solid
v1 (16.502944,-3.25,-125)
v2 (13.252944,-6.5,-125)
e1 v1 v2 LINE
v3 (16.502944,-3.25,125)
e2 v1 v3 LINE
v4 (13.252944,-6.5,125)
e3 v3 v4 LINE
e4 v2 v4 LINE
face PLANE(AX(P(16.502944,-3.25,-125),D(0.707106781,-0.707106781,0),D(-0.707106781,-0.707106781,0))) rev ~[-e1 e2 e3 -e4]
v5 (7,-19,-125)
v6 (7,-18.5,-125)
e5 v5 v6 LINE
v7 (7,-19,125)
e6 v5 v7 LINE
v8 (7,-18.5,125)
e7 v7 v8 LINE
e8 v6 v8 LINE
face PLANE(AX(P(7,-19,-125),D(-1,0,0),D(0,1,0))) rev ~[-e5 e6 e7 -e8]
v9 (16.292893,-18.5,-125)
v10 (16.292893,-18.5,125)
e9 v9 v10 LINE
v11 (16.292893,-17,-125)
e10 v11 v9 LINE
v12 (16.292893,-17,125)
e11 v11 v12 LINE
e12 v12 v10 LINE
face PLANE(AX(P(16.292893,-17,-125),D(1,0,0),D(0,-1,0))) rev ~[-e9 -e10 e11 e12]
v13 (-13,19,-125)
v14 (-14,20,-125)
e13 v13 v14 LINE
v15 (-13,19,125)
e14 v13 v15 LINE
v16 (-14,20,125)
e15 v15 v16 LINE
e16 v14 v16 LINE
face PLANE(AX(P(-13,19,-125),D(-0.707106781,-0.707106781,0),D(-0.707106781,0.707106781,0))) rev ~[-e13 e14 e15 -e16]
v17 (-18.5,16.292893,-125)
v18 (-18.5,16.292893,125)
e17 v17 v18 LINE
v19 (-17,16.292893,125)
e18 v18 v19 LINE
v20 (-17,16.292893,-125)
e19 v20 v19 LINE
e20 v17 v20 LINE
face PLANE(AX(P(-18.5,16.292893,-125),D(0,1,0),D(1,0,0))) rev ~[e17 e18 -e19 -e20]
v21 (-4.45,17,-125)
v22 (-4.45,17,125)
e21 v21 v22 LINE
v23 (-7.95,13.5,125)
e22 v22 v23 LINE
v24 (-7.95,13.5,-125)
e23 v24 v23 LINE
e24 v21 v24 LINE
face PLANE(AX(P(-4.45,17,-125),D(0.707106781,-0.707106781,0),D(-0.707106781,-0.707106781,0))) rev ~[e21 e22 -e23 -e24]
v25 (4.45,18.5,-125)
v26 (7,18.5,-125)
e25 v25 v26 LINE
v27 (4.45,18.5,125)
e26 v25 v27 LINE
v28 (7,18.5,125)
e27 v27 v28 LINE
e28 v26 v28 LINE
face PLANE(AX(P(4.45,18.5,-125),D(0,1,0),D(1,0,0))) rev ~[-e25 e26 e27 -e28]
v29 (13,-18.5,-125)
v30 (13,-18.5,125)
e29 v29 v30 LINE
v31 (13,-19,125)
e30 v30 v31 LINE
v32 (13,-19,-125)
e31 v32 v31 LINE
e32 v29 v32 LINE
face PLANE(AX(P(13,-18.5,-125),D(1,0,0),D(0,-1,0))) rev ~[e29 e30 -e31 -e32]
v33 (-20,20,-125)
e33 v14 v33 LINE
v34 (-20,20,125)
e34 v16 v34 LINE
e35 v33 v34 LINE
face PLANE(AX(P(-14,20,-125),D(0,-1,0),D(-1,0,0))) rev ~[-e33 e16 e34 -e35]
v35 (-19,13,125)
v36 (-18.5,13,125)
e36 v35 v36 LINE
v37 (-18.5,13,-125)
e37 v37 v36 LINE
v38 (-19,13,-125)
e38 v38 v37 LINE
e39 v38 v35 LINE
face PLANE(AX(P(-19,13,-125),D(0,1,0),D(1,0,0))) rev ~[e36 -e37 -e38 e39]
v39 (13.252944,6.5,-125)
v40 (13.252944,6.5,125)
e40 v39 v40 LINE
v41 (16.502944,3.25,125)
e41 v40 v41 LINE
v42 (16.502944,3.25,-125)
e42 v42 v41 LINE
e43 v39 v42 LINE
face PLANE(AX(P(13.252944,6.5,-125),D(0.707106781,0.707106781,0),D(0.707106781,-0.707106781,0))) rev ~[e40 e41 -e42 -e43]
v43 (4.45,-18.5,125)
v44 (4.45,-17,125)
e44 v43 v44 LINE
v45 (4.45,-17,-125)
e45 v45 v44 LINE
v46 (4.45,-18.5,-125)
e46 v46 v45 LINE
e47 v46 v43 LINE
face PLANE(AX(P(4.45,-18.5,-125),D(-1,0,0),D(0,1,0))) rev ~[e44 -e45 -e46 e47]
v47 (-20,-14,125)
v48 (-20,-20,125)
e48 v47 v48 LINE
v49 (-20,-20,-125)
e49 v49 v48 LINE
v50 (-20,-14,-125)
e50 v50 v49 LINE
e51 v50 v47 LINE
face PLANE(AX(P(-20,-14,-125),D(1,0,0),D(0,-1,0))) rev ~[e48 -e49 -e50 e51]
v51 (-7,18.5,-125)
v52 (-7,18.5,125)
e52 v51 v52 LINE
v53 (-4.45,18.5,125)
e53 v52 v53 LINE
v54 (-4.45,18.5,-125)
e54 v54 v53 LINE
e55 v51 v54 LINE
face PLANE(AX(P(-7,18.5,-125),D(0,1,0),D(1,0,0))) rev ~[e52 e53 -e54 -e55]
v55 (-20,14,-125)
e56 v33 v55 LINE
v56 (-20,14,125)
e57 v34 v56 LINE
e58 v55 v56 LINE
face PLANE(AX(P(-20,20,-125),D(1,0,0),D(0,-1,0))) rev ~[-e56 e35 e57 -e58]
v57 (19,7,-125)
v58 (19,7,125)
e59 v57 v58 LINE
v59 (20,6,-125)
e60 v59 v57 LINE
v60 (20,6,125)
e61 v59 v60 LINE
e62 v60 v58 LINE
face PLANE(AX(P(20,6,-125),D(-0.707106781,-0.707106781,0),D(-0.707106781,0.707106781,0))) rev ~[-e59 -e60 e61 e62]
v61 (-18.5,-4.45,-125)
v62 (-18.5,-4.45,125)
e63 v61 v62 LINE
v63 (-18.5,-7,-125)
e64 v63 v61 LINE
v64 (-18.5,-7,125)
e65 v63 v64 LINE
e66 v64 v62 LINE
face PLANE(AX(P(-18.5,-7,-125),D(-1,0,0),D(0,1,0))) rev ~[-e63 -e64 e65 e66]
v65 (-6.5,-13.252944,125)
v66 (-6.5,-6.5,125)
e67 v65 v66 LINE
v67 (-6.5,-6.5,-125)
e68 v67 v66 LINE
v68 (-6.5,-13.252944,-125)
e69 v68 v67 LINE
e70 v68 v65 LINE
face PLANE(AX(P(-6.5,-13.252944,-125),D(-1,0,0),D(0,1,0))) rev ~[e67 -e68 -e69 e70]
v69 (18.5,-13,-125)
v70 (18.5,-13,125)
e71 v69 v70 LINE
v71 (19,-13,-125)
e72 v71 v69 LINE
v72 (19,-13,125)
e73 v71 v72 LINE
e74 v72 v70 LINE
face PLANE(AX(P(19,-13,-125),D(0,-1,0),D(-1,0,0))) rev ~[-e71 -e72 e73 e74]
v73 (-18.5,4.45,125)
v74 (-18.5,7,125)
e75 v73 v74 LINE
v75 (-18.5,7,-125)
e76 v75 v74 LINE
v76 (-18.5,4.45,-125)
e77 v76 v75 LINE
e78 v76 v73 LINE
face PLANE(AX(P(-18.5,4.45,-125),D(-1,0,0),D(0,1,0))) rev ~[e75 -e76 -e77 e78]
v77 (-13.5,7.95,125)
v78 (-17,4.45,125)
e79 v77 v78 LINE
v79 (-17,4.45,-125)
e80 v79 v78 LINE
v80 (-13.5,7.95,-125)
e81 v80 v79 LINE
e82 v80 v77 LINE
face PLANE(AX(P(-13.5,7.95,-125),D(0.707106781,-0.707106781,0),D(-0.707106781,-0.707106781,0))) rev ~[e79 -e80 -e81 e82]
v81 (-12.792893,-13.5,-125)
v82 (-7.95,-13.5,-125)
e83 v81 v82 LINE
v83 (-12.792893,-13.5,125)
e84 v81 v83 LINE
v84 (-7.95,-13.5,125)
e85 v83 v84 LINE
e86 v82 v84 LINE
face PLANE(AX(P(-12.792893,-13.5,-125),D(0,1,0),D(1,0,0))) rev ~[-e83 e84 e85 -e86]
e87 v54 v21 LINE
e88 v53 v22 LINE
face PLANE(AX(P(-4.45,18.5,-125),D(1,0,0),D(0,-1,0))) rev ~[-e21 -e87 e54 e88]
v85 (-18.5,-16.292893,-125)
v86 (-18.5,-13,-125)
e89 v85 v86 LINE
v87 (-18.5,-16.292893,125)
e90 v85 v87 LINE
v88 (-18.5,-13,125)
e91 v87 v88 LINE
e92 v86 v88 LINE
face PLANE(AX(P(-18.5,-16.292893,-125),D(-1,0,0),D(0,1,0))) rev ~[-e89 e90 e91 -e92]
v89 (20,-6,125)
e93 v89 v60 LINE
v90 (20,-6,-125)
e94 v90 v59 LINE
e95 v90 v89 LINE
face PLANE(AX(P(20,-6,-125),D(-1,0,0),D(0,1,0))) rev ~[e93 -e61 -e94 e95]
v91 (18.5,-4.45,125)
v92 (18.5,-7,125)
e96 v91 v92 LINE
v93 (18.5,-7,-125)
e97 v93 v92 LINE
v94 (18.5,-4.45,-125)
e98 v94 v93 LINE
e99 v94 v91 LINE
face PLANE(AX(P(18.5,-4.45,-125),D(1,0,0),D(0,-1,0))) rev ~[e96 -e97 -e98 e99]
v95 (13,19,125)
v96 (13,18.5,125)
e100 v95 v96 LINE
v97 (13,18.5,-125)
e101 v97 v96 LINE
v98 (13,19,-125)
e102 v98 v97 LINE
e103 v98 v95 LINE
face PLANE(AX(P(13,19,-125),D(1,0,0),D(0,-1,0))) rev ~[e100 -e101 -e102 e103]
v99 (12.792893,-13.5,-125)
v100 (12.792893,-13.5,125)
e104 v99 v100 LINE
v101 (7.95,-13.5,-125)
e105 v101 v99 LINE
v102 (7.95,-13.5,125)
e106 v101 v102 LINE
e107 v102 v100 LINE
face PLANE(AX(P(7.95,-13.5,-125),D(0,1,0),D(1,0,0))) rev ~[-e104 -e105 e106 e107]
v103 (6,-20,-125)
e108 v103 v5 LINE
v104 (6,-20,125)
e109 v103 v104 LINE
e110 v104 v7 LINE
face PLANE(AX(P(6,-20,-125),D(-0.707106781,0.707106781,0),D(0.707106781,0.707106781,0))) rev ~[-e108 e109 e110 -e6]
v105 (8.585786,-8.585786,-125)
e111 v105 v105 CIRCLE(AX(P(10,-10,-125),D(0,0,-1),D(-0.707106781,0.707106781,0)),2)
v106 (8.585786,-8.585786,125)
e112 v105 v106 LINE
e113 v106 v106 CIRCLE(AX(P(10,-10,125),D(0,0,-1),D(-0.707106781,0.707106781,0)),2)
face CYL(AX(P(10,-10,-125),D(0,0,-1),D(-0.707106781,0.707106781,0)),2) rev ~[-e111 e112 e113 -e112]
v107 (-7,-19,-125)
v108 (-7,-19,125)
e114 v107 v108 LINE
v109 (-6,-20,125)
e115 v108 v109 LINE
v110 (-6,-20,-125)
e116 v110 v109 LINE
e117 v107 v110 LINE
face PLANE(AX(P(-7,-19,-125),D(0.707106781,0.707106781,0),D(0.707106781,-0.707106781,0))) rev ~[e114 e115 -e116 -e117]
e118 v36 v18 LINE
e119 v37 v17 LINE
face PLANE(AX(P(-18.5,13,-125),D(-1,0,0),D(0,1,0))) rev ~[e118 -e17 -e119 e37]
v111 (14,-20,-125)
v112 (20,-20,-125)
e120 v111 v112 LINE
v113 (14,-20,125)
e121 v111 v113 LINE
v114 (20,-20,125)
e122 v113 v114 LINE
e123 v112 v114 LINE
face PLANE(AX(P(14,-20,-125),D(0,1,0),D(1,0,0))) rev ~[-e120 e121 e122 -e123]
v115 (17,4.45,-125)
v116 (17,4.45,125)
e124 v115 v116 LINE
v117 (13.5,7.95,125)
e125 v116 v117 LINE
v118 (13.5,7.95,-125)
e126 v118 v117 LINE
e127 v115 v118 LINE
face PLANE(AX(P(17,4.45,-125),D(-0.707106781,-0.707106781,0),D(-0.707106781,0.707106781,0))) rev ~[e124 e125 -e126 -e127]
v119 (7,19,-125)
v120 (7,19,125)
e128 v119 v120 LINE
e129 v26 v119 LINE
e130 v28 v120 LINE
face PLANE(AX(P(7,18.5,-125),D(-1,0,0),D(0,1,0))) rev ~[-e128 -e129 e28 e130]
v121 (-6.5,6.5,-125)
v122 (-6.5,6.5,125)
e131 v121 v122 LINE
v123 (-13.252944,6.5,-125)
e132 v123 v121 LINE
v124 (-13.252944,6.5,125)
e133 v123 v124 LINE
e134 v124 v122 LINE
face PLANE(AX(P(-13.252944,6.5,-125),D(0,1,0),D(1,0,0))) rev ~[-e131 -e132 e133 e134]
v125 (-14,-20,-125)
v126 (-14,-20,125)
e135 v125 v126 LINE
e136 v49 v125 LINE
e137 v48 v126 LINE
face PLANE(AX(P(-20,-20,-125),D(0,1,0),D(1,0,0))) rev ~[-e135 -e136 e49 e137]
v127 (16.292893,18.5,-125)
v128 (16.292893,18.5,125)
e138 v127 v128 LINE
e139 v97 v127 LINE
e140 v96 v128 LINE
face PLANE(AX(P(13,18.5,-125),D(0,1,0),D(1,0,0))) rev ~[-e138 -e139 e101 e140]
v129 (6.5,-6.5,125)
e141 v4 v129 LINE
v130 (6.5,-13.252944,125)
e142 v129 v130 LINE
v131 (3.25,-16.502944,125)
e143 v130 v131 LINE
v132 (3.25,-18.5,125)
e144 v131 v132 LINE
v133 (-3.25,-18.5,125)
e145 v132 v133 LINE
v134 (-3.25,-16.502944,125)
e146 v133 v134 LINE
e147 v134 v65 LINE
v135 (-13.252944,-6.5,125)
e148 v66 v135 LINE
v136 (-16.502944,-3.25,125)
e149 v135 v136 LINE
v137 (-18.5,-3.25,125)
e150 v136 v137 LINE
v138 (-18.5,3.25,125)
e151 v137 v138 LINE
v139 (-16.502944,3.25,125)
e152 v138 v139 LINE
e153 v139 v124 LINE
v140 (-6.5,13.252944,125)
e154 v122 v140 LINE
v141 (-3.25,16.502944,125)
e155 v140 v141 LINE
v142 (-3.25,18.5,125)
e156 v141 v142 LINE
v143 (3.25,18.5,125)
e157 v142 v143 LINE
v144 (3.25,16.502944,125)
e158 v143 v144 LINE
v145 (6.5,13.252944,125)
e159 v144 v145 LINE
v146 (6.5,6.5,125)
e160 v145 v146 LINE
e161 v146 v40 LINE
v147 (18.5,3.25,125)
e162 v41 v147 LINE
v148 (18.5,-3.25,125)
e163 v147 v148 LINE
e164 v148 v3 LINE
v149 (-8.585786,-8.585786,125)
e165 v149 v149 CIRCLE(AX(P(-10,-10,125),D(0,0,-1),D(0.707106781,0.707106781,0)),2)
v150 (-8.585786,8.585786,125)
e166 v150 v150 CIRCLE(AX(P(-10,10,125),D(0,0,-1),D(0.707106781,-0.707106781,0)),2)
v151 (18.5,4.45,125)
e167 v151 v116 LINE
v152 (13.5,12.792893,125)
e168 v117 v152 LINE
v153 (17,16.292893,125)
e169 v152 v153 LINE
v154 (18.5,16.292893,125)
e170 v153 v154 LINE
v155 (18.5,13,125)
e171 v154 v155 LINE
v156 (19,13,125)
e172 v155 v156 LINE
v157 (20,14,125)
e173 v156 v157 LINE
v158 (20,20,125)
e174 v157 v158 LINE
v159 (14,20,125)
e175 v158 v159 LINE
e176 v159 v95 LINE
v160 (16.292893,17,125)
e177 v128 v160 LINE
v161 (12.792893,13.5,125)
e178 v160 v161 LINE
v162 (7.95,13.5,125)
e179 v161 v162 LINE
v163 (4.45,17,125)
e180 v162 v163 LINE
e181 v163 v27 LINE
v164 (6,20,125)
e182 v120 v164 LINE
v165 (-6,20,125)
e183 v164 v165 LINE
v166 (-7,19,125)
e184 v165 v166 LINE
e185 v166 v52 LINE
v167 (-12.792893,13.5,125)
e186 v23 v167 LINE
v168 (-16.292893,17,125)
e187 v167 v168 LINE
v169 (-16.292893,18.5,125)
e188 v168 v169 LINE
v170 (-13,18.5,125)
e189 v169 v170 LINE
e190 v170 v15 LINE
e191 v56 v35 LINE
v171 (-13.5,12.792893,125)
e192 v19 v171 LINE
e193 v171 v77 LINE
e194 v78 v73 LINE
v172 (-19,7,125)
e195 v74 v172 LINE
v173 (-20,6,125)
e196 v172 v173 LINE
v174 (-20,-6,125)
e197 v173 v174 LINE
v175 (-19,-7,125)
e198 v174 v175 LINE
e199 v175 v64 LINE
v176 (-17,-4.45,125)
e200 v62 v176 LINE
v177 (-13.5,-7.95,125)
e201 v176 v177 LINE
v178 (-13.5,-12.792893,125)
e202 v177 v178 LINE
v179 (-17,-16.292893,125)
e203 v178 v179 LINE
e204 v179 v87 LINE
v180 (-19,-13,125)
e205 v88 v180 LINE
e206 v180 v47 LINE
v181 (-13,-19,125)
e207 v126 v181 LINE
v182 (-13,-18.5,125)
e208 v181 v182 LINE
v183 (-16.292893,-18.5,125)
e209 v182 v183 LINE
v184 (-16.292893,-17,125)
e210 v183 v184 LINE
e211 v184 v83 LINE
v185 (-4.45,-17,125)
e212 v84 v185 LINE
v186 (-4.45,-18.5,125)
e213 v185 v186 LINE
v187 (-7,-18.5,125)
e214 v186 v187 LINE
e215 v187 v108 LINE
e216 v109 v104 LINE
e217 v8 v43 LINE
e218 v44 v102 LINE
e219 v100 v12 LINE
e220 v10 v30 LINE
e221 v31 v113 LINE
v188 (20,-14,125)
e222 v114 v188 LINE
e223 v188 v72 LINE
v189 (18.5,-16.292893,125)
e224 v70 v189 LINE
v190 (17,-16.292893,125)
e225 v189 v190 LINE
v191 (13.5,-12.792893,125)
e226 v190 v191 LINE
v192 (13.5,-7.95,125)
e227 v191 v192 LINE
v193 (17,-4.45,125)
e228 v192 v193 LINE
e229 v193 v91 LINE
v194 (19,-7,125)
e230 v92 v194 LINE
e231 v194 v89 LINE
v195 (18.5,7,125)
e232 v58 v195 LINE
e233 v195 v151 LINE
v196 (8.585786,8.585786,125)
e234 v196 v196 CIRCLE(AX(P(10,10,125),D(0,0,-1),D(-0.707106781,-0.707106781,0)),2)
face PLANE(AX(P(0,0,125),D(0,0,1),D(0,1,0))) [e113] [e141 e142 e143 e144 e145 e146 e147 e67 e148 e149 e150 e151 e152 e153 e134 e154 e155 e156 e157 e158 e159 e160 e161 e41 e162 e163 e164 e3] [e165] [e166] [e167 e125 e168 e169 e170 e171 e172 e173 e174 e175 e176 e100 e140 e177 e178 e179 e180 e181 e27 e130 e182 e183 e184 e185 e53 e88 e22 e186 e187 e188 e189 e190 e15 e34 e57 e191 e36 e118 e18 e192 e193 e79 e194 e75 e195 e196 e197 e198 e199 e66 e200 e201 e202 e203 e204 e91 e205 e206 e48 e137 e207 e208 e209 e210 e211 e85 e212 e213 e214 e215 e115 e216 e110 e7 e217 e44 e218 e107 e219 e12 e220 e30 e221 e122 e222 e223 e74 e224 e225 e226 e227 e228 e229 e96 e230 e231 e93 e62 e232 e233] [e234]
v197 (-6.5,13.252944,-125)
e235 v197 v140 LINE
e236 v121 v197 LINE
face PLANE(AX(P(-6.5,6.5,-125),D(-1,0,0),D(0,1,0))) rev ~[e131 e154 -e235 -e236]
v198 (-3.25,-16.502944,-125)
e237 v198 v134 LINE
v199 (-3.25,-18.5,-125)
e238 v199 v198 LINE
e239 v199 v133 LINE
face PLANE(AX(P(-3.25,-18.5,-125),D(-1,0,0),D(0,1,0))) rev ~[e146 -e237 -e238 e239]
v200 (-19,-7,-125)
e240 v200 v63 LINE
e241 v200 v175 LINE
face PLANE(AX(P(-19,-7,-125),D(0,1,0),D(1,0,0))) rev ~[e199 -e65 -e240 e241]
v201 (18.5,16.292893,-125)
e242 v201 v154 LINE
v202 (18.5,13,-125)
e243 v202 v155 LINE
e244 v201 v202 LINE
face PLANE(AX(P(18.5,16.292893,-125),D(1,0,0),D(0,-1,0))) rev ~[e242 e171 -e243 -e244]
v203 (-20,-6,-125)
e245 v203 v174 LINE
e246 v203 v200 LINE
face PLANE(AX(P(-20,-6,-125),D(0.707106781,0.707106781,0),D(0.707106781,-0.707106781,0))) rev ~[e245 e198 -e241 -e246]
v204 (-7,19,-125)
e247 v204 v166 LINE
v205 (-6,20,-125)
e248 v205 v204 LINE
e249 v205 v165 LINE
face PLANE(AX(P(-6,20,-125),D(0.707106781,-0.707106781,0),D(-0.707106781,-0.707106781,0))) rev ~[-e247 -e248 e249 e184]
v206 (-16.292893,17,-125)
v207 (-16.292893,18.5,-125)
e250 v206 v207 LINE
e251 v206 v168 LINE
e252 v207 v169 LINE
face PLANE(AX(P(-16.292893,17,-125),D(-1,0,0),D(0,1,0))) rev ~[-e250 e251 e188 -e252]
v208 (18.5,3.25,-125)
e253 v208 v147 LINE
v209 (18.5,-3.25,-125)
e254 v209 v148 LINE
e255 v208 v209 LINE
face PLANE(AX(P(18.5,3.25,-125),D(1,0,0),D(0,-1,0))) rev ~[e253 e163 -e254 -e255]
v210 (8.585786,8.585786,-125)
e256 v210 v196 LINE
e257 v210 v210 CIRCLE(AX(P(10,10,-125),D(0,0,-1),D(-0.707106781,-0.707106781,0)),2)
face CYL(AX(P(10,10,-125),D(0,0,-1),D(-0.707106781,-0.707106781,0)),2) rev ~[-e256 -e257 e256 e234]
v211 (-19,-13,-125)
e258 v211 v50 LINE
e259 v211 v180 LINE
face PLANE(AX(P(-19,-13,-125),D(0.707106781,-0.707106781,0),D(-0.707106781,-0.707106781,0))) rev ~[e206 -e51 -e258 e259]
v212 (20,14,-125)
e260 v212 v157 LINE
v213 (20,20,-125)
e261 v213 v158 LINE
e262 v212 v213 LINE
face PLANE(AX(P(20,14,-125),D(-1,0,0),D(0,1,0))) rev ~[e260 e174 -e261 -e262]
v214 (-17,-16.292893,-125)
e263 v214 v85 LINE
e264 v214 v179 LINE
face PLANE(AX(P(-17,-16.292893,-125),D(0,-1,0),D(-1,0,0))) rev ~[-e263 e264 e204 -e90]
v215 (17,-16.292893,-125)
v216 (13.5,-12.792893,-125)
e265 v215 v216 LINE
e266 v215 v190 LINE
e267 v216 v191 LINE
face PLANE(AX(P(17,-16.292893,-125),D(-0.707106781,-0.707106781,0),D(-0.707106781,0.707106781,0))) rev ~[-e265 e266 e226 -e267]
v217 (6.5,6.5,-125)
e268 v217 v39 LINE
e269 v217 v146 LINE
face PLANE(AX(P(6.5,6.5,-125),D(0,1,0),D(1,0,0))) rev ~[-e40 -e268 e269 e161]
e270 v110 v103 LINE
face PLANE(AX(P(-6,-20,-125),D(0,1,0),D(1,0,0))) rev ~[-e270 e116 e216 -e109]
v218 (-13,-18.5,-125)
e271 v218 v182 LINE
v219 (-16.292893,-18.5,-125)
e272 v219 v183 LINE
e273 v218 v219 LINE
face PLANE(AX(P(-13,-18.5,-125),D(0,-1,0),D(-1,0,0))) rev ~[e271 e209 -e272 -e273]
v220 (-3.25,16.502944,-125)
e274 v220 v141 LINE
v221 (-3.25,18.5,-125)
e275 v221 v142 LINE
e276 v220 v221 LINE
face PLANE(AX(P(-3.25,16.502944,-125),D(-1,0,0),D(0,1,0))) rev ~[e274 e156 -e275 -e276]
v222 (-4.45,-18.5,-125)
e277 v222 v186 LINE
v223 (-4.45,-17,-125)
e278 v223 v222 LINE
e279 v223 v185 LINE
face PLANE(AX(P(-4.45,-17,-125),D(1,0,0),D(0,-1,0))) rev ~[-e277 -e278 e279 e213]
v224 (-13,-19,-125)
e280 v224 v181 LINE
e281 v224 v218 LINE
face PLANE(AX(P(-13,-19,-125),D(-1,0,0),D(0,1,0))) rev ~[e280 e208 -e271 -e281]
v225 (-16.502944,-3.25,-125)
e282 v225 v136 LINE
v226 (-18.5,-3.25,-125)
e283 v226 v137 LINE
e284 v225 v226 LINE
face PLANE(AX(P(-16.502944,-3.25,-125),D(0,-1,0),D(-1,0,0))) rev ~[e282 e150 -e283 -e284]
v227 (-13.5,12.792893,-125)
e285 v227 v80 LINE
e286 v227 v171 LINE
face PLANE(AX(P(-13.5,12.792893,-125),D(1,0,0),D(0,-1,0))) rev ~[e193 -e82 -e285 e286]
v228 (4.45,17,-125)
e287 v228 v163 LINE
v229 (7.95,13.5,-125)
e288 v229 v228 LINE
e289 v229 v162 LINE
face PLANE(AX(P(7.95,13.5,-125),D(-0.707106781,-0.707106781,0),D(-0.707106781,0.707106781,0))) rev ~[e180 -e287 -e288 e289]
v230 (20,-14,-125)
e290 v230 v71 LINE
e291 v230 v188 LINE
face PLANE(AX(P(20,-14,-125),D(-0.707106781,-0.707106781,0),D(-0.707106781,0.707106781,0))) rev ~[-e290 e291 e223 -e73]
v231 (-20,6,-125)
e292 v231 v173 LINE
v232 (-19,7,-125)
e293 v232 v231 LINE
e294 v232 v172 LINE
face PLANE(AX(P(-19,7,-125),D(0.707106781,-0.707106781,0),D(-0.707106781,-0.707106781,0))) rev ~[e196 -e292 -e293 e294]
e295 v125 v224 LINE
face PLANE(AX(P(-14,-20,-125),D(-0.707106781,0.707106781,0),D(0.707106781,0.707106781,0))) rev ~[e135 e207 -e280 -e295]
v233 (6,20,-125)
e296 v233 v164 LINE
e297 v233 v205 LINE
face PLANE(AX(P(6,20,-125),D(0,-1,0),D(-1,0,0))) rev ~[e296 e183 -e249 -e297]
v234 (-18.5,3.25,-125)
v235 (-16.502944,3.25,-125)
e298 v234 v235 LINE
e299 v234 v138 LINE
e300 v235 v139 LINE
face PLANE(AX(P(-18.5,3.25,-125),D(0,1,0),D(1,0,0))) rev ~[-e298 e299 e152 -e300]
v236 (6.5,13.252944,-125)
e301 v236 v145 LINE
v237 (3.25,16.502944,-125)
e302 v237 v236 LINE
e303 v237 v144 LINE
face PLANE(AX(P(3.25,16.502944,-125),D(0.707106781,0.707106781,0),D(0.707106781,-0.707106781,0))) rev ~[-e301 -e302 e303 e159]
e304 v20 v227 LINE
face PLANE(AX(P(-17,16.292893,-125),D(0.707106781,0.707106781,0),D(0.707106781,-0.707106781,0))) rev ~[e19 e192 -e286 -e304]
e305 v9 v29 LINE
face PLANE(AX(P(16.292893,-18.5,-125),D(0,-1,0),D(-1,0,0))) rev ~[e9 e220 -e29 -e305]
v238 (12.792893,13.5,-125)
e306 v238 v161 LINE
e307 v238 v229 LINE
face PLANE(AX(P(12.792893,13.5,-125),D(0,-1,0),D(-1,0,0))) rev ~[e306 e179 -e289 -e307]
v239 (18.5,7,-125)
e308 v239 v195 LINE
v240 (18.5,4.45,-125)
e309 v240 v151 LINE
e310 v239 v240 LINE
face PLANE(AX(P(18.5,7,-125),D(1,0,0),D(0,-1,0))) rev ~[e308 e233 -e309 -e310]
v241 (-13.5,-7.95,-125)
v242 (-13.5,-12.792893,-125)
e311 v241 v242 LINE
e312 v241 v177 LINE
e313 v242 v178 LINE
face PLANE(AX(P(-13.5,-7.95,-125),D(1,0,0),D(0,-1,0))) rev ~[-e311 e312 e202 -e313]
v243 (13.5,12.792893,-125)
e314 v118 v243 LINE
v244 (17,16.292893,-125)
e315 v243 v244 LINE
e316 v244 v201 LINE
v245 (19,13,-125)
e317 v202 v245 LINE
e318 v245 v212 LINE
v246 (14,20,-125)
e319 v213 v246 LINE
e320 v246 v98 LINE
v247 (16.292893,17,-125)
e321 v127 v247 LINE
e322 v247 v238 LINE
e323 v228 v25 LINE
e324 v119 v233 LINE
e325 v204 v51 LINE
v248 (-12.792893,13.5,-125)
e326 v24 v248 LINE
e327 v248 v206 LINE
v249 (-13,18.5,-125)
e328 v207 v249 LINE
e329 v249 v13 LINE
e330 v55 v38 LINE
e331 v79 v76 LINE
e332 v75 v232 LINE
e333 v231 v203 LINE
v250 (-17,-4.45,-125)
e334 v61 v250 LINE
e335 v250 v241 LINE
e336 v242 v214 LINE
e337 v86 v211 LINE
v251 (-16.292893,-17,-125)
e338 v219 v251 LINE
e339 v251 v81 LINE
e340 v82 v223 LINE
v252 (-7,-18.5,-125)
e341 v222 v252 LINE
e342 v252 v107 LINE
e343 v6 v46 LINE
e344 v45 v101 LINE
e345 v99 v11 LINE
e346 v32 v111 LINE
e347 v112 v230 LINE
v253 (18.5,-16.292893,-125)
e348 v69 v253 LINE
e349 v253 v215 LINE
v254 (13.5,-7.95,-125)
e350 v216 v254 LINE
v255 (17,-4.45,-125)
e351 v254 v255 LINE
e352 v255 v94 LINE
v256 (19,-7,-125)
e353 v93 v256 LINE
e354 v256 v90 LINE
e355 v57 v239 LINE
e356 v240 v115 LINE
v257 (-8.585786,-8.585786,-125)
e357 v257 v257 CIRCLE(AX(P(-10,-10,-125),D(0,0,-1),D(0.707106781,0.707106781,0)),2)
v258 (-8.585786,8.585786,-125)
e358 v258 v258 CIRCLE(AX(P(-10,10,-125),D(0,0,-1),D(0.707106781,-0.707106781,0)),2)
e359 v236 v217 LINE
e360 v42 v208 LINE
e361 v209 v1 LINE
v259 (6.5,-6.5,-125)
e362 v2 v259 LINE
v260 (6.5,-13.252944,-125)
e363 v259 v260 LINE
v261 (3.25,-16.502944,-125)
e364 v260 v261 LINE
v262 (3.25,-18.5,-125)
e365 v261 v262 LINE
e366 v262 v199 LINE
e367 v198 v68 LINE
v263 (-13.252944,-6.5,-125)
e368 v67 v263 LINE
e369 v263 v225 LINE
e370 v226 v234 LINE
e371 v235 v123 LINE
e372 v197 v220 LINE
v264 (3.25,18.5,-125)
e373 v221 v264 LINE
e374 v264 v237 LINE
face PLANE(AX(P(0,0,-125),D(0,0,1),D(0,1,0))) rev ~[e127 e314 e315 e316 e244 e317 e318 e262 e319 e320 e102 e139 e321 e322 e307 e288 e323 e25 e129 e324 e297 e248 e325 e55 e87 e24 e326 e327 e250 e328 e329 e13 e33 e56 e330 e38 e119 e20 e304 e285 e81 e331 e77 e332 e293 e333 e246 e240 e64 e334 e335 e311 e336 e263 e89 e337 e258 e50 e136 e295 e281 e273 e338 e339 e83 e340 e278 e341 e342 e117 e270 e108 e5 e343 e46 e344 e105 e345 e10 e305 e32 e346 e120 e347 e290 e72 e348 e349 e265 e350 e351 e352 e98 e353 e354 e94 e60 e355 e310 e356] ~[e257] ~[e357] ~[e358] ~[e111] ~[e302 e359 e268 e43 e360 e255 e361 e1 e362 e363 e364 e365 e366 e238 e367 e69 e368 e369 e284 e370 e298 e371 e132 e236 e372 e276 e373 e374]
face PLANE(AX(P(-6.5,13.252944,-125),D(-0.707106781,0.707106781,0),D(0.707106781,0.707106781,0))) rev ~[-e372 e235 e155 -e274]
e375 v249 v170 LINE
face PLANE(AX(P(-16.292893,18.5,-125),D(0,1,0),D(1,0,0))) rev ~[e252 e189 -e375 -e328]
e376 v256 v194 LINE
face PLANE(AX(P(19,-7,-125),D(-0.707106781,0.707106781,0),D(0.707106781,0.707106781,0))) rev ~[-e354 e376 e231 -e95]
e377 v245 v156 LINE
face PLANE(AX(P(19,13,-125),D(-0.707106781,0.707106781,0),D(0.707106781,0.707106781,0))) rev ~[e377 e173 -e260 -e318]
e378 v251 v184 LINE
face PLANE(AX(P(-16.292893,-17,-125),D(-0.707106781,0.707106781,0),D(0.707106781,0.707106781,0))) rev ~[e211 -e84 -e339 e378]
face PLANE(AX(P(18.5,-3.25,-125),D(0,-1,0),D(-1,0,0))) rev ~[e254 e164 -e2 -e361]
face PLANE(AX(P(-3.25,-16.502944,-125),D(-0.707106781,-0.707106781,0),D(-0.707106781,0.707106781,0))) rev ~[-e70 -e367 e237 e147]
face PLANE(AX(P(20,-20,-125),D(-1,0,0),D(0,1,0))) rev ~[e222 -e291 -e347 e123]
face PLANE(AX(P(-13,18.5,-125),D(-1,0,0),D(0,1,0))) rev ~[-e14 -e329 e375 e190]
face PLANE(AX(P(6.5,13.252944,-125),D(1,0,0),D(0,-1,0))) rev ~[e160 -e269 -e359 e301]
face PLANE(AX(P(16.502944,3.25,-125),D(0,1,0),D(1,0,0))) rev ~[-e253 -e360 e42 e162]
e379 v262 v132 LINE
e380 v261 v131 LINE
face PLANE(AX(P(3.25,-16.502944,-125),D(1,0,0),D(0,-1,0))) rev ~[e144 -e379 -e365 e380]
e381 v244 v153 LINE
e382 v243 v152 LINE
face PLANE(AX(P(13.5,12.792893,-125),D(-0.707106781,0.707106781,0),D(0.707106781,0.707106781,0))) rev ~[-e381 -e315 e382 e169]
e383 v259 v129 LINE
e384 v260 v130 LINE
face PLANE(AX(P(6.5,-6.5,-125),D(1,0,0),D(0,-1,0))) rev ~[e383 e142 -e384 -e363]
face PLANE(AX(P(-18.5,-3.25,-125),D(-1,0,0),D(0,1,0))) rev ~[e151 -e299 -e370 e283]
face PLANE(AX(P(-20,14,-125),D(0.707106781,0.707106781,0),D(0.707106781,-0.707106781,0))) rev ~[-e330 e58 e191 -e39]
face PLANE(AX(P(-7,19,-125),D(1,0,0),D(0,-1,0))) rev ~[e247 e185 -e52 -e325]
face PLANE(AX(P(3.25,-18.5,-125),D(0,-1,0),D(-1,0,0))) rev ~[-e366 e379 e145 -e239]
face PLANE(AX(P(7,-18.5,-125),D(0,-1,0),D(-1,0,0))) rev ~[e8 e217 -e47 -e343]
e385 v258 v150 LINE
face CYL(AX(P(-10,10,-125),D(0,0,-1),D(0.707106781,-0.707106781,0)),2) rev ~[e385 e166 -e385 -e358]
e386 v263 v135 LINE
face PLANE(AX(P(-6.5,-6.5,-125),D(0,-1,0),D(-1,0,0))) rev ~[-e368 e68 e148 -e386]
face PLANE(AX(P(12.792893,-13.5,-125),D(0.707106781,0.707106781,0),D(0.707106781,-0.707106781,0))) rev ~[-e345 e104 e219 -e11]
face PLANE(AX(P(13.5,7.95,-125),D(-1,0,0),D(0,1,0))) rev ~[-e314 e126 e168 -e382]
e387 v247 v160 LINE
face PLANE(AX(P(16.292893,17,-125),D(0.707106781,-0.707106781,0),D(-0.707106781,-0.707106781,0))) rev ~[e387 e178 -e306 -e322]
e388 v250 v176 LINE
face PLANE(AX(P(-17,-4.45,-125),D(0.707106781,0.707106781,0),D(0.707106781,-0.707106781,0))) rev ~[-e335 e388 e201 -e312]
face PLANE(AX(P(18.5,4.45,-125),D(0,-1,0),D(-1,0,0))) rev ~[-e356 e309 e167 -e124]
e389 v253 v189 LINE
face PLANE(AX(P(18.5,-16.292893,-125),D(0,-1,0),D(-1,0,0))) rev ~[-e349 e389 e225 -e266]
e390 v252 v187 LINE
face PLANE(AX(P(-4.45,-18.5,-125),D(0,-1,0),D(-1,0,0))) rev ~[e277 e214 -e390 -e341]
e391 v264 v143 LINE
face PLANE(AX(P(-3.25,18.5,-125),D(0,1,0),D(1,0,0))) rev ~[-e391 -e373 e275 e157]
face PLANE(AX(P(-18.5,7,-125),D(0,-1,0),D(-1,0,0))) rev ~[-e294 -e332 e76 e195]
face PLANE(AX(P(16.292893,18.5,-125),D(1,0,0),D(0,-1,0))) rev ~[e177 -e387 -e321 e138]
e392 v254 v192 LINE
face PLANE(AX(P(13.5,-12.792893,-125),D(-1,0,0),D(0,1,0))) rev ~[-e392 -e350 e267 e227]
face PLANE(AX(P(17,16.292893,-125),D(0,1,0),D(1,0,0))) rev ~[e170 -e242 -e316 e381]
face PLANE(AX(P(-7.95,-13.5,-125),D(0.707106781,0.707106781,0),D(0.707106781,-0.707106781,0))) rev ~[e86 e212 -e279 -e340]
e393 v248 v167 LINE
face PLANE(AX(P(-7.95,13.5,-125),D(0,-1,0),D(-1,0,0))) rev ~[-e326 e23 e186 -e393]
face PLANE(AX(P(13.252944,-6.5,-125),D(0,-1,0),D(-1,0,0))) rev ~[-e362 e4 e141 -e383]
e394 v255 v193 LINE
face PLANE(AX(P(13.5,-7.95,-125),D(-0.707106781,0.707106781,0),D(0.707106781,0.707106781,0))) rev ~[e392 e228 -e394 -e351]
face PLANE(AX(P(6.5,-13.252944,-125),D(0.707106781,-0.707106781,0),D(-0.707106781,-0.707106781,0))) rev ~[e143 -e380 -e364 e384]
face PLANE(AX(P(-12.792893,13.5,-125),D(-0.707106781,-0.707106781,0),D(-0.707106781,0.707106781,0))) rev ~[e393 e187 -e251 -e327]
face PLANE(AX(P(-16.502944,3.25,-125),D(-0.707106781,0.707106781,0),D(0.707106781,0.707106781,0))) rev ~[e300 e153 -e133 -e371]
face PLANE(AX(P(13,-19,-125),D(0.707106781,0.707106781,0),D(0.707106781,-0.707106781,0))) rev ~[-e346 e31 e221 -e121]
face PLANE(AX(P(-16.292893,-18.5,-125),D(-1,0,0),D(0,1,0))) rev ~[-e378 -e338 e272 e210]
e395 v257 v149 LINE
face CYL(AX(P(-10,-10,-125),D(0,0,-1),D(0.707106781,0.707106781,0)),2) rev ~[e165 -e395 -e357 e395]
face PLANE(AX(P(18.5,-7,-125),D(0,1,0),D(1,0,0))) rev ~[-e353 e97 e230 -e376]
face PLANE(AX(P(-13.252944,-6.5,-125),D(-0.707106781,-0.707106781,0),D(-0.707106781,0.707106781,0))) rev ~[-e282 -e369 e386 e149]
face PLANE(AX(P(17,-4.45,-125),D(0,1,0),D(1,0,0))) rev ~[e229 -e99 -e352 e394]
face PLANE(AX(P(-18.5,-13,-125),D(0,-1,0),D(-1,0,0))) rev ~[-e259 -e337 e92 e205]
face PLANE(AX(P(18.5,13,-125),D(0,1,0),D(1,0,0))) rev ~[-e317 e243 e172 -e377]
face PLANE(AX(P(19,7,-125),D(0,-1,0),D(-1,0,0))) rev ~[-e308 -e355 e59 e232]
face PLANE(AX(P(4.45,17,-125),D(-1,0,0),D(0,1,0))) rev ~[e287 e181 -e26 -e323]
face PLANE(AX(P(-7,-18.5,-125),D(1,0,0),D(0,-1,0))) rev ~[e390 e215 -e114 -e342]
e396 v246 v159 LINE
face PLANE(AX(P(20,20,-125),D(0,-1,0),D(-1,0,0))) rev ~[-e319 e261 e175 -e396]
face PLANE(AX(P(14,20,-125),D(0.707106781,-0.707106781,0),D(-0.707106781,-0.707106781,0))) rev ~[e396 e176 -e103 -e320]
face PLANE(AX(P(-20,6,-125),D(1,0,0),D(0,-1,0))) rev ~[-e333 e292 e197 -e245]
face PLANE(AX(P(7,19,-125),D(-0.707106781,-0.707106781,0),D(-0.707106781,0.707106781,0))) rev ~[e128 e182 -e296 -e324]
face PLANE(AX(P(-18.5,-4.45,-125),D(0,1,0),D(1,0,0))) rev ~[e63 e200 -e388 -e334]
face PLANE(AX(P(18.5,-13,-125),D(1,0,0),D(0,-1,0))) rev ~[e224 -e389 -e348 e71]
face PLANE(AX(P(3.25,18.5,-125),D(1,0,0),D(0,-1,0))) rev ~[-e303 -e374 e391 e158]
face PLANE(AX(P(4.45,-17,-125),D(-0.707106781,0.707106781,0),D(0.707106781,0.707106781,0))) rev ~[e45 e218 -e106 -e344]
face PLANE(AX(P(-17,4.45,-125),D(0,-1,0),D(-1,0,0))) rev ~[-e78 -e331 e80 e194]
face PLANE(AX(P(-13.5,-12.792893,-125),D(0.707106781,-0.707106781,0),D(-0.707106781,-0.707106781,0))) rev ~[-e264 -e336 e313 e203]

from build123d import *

# Parameters (mm, degrees)
BOSS_EXTRUDE1_DEPTH      = 125
BOSS_EXTRUDE1_DEPTH_BACK = 125


with BuildPart() as part:
    # Sketch1 → Boss-Extrude1 (new, two sides: drawn at the far end of the back side and taken through both)
    with BuildSketch(Plane(origin=(0, 0, 0), x_dir=(0, 1, 0), z_dir=(0, 0, 1)).offset(-BOSS_EXTRUDE1_DEPTH_BACK)):
        Polygon((-13, 19), (-14, 20), (-20, 20), (-20, 14), (-19, 13), (-18.5, 13), (-18.5, 16.292893219), (-17, 16.292893219), (-13.5, 12.792893219), (-13.5, 7.95), (-17, 4.45), (-18.5, 4.45), (-18.5, 7), (-19, 7), (-20, 6), (-20, -6), (-19, -7), (-18.5, -7), (-18.5, -4.45), (-17, -4.45), (-13.5, -7.95), (-13.5, -12.792893219), (-17, -16.292893219), (-18.5, -16.292893219), (-18.5, -13), (-19, -13), (-20, -14), (-20, -20), (-14, -20), (-13, -19), (-13, -18.5), (-16.292893219, -18.5), (-16.292893219, -17), (-12.792893219, -13.5), (-7.95, -13.5), (-4.45, -17), (-4.45, -18.5), (-7, -18.5), (-7, -19), (-6, -20), (6, -20), (7, -19), (7, -18.5), (4.45, -18.5), (4.45, -17), (7.95, -13.5), (12.792893219, -13.5), (16.292893219, -17), (16.292893219, -18.5), (13, -18.5), (13, -19), (14, -20), (20, -20), (20, -14), (19, -13), (18.5, -13), (18.5, -16.292893219), (17, -16.292893219), (13.5, -12.792893219), (13.5, -7.95), (17, -4.45), (18.5, -4.45), (18.5, -7), (19, -7), (20, -6), (20, 6), (19, 7), (18.5, 7), (18.5, 4.45), (17, 4.45), (13.5, 7.95), (13.5, 12.792893219), (17, 16.292893219), (18.5, 16.292893219), (18.5, 13), (19, 13), (20, 14), (20, 20), (14, 20), (13, 19), (13, 18.5), (16.292893219, 18.5), (16.292893219, 17), (12.792893219, 13.5), (7.95, 13.5), (4.45, 17), (4.45, 18.5), (7, 18.5), (7, 19), (6, 20), (-6, 20), (-7, 19), (-7, 18.5), (-4.45, 18.5), (-4.45, 17), (-7.95, 13.5), (-12.792893219, 13.5), (-16.292893219, 17), (-16.292893219, 18.5), (-13, 18.5), align=None)
        with BuildLine():
            ThreePointArc((-11.414213562, -11.414213562), (-11.414213562, -8.585786438), (-8.585786438, -8.585786438))
            ThreePointArc((-8.585786438, -8.585786438), (-8.585786438, -11.414213562), (-11.414213562, -11.414213562))
        make_face(mode=Mode.SUBTRACT)
        with BuildLine():
            ThreePointArc((11.414213562, -11.414213562), (8.585786438, -11.414213562), (8.585786438, -8.585786438))
            ThreePointArc((8.585786438, -8.585786438), (11.414213562, -8.585786438), (11.414213562, -11.414213562))
        make_face(mode=Mode.SUBTRACT)
        with BuildLine():
            ThreePointArc((-11.414213562, 11.414213562), (-8.585786438, 11.414213562), (-8.585786438, 8.585786438))
            ThreePointArc((-8.585786438, 8.585786438), (-11.414213562, 8.585786438), (-11.414213562, 11.414213562))
        make_face(mode=Mode.SUBTRACT)
        Polygon((3.25, 18.5), (3.25, 16.502943725), (6.5, 13.252943725), (6.5, 6.5), (13.252943725, 6.5), (16.502943725, 3.25), (18.5, 3.25), (18.5, -3.25), (16.502943725, -3.25), (13.252943725, -6.5), (6.5, -6.5), (6.5, -13.252943725), (3.25, -16.502943725), (3.25, -18.5), (-3.25, -18.5), (-3.25, -16.502943725), (-6.5, -13.252943725), (-6.5, -6.5), (-13.252943725, -6.5), (-16.502943725, -3.25), (-18.5, -3.25), (-18.5, 3.25), (-16.502943725, 3.25), (-13.252943725, 6.5), (-6.5, 6.5), (-6.5, 13.252943725), (-3.25, 16.502943725), (-3.25, 18.5), align=None, mode=Mode.SUBTRACT)
        with BuildLine():
            ThreePointArc((11.414213562, 11.414213562), (11.414213562, 8.585786438), (8.585786438, 8.585786438))
            ThreePointArc((8.585786438, 8.585786438), (8.585786438, 11.414213562), (11.414213562, 11.414213562))
        make_face(mode=Mode.SUBTRACT)
    extrude(amount=BOSS_EXTRUDE1_DEPTH + BOSS_EXTRUDE1_DEPTH_BACK)


solid = part.part
